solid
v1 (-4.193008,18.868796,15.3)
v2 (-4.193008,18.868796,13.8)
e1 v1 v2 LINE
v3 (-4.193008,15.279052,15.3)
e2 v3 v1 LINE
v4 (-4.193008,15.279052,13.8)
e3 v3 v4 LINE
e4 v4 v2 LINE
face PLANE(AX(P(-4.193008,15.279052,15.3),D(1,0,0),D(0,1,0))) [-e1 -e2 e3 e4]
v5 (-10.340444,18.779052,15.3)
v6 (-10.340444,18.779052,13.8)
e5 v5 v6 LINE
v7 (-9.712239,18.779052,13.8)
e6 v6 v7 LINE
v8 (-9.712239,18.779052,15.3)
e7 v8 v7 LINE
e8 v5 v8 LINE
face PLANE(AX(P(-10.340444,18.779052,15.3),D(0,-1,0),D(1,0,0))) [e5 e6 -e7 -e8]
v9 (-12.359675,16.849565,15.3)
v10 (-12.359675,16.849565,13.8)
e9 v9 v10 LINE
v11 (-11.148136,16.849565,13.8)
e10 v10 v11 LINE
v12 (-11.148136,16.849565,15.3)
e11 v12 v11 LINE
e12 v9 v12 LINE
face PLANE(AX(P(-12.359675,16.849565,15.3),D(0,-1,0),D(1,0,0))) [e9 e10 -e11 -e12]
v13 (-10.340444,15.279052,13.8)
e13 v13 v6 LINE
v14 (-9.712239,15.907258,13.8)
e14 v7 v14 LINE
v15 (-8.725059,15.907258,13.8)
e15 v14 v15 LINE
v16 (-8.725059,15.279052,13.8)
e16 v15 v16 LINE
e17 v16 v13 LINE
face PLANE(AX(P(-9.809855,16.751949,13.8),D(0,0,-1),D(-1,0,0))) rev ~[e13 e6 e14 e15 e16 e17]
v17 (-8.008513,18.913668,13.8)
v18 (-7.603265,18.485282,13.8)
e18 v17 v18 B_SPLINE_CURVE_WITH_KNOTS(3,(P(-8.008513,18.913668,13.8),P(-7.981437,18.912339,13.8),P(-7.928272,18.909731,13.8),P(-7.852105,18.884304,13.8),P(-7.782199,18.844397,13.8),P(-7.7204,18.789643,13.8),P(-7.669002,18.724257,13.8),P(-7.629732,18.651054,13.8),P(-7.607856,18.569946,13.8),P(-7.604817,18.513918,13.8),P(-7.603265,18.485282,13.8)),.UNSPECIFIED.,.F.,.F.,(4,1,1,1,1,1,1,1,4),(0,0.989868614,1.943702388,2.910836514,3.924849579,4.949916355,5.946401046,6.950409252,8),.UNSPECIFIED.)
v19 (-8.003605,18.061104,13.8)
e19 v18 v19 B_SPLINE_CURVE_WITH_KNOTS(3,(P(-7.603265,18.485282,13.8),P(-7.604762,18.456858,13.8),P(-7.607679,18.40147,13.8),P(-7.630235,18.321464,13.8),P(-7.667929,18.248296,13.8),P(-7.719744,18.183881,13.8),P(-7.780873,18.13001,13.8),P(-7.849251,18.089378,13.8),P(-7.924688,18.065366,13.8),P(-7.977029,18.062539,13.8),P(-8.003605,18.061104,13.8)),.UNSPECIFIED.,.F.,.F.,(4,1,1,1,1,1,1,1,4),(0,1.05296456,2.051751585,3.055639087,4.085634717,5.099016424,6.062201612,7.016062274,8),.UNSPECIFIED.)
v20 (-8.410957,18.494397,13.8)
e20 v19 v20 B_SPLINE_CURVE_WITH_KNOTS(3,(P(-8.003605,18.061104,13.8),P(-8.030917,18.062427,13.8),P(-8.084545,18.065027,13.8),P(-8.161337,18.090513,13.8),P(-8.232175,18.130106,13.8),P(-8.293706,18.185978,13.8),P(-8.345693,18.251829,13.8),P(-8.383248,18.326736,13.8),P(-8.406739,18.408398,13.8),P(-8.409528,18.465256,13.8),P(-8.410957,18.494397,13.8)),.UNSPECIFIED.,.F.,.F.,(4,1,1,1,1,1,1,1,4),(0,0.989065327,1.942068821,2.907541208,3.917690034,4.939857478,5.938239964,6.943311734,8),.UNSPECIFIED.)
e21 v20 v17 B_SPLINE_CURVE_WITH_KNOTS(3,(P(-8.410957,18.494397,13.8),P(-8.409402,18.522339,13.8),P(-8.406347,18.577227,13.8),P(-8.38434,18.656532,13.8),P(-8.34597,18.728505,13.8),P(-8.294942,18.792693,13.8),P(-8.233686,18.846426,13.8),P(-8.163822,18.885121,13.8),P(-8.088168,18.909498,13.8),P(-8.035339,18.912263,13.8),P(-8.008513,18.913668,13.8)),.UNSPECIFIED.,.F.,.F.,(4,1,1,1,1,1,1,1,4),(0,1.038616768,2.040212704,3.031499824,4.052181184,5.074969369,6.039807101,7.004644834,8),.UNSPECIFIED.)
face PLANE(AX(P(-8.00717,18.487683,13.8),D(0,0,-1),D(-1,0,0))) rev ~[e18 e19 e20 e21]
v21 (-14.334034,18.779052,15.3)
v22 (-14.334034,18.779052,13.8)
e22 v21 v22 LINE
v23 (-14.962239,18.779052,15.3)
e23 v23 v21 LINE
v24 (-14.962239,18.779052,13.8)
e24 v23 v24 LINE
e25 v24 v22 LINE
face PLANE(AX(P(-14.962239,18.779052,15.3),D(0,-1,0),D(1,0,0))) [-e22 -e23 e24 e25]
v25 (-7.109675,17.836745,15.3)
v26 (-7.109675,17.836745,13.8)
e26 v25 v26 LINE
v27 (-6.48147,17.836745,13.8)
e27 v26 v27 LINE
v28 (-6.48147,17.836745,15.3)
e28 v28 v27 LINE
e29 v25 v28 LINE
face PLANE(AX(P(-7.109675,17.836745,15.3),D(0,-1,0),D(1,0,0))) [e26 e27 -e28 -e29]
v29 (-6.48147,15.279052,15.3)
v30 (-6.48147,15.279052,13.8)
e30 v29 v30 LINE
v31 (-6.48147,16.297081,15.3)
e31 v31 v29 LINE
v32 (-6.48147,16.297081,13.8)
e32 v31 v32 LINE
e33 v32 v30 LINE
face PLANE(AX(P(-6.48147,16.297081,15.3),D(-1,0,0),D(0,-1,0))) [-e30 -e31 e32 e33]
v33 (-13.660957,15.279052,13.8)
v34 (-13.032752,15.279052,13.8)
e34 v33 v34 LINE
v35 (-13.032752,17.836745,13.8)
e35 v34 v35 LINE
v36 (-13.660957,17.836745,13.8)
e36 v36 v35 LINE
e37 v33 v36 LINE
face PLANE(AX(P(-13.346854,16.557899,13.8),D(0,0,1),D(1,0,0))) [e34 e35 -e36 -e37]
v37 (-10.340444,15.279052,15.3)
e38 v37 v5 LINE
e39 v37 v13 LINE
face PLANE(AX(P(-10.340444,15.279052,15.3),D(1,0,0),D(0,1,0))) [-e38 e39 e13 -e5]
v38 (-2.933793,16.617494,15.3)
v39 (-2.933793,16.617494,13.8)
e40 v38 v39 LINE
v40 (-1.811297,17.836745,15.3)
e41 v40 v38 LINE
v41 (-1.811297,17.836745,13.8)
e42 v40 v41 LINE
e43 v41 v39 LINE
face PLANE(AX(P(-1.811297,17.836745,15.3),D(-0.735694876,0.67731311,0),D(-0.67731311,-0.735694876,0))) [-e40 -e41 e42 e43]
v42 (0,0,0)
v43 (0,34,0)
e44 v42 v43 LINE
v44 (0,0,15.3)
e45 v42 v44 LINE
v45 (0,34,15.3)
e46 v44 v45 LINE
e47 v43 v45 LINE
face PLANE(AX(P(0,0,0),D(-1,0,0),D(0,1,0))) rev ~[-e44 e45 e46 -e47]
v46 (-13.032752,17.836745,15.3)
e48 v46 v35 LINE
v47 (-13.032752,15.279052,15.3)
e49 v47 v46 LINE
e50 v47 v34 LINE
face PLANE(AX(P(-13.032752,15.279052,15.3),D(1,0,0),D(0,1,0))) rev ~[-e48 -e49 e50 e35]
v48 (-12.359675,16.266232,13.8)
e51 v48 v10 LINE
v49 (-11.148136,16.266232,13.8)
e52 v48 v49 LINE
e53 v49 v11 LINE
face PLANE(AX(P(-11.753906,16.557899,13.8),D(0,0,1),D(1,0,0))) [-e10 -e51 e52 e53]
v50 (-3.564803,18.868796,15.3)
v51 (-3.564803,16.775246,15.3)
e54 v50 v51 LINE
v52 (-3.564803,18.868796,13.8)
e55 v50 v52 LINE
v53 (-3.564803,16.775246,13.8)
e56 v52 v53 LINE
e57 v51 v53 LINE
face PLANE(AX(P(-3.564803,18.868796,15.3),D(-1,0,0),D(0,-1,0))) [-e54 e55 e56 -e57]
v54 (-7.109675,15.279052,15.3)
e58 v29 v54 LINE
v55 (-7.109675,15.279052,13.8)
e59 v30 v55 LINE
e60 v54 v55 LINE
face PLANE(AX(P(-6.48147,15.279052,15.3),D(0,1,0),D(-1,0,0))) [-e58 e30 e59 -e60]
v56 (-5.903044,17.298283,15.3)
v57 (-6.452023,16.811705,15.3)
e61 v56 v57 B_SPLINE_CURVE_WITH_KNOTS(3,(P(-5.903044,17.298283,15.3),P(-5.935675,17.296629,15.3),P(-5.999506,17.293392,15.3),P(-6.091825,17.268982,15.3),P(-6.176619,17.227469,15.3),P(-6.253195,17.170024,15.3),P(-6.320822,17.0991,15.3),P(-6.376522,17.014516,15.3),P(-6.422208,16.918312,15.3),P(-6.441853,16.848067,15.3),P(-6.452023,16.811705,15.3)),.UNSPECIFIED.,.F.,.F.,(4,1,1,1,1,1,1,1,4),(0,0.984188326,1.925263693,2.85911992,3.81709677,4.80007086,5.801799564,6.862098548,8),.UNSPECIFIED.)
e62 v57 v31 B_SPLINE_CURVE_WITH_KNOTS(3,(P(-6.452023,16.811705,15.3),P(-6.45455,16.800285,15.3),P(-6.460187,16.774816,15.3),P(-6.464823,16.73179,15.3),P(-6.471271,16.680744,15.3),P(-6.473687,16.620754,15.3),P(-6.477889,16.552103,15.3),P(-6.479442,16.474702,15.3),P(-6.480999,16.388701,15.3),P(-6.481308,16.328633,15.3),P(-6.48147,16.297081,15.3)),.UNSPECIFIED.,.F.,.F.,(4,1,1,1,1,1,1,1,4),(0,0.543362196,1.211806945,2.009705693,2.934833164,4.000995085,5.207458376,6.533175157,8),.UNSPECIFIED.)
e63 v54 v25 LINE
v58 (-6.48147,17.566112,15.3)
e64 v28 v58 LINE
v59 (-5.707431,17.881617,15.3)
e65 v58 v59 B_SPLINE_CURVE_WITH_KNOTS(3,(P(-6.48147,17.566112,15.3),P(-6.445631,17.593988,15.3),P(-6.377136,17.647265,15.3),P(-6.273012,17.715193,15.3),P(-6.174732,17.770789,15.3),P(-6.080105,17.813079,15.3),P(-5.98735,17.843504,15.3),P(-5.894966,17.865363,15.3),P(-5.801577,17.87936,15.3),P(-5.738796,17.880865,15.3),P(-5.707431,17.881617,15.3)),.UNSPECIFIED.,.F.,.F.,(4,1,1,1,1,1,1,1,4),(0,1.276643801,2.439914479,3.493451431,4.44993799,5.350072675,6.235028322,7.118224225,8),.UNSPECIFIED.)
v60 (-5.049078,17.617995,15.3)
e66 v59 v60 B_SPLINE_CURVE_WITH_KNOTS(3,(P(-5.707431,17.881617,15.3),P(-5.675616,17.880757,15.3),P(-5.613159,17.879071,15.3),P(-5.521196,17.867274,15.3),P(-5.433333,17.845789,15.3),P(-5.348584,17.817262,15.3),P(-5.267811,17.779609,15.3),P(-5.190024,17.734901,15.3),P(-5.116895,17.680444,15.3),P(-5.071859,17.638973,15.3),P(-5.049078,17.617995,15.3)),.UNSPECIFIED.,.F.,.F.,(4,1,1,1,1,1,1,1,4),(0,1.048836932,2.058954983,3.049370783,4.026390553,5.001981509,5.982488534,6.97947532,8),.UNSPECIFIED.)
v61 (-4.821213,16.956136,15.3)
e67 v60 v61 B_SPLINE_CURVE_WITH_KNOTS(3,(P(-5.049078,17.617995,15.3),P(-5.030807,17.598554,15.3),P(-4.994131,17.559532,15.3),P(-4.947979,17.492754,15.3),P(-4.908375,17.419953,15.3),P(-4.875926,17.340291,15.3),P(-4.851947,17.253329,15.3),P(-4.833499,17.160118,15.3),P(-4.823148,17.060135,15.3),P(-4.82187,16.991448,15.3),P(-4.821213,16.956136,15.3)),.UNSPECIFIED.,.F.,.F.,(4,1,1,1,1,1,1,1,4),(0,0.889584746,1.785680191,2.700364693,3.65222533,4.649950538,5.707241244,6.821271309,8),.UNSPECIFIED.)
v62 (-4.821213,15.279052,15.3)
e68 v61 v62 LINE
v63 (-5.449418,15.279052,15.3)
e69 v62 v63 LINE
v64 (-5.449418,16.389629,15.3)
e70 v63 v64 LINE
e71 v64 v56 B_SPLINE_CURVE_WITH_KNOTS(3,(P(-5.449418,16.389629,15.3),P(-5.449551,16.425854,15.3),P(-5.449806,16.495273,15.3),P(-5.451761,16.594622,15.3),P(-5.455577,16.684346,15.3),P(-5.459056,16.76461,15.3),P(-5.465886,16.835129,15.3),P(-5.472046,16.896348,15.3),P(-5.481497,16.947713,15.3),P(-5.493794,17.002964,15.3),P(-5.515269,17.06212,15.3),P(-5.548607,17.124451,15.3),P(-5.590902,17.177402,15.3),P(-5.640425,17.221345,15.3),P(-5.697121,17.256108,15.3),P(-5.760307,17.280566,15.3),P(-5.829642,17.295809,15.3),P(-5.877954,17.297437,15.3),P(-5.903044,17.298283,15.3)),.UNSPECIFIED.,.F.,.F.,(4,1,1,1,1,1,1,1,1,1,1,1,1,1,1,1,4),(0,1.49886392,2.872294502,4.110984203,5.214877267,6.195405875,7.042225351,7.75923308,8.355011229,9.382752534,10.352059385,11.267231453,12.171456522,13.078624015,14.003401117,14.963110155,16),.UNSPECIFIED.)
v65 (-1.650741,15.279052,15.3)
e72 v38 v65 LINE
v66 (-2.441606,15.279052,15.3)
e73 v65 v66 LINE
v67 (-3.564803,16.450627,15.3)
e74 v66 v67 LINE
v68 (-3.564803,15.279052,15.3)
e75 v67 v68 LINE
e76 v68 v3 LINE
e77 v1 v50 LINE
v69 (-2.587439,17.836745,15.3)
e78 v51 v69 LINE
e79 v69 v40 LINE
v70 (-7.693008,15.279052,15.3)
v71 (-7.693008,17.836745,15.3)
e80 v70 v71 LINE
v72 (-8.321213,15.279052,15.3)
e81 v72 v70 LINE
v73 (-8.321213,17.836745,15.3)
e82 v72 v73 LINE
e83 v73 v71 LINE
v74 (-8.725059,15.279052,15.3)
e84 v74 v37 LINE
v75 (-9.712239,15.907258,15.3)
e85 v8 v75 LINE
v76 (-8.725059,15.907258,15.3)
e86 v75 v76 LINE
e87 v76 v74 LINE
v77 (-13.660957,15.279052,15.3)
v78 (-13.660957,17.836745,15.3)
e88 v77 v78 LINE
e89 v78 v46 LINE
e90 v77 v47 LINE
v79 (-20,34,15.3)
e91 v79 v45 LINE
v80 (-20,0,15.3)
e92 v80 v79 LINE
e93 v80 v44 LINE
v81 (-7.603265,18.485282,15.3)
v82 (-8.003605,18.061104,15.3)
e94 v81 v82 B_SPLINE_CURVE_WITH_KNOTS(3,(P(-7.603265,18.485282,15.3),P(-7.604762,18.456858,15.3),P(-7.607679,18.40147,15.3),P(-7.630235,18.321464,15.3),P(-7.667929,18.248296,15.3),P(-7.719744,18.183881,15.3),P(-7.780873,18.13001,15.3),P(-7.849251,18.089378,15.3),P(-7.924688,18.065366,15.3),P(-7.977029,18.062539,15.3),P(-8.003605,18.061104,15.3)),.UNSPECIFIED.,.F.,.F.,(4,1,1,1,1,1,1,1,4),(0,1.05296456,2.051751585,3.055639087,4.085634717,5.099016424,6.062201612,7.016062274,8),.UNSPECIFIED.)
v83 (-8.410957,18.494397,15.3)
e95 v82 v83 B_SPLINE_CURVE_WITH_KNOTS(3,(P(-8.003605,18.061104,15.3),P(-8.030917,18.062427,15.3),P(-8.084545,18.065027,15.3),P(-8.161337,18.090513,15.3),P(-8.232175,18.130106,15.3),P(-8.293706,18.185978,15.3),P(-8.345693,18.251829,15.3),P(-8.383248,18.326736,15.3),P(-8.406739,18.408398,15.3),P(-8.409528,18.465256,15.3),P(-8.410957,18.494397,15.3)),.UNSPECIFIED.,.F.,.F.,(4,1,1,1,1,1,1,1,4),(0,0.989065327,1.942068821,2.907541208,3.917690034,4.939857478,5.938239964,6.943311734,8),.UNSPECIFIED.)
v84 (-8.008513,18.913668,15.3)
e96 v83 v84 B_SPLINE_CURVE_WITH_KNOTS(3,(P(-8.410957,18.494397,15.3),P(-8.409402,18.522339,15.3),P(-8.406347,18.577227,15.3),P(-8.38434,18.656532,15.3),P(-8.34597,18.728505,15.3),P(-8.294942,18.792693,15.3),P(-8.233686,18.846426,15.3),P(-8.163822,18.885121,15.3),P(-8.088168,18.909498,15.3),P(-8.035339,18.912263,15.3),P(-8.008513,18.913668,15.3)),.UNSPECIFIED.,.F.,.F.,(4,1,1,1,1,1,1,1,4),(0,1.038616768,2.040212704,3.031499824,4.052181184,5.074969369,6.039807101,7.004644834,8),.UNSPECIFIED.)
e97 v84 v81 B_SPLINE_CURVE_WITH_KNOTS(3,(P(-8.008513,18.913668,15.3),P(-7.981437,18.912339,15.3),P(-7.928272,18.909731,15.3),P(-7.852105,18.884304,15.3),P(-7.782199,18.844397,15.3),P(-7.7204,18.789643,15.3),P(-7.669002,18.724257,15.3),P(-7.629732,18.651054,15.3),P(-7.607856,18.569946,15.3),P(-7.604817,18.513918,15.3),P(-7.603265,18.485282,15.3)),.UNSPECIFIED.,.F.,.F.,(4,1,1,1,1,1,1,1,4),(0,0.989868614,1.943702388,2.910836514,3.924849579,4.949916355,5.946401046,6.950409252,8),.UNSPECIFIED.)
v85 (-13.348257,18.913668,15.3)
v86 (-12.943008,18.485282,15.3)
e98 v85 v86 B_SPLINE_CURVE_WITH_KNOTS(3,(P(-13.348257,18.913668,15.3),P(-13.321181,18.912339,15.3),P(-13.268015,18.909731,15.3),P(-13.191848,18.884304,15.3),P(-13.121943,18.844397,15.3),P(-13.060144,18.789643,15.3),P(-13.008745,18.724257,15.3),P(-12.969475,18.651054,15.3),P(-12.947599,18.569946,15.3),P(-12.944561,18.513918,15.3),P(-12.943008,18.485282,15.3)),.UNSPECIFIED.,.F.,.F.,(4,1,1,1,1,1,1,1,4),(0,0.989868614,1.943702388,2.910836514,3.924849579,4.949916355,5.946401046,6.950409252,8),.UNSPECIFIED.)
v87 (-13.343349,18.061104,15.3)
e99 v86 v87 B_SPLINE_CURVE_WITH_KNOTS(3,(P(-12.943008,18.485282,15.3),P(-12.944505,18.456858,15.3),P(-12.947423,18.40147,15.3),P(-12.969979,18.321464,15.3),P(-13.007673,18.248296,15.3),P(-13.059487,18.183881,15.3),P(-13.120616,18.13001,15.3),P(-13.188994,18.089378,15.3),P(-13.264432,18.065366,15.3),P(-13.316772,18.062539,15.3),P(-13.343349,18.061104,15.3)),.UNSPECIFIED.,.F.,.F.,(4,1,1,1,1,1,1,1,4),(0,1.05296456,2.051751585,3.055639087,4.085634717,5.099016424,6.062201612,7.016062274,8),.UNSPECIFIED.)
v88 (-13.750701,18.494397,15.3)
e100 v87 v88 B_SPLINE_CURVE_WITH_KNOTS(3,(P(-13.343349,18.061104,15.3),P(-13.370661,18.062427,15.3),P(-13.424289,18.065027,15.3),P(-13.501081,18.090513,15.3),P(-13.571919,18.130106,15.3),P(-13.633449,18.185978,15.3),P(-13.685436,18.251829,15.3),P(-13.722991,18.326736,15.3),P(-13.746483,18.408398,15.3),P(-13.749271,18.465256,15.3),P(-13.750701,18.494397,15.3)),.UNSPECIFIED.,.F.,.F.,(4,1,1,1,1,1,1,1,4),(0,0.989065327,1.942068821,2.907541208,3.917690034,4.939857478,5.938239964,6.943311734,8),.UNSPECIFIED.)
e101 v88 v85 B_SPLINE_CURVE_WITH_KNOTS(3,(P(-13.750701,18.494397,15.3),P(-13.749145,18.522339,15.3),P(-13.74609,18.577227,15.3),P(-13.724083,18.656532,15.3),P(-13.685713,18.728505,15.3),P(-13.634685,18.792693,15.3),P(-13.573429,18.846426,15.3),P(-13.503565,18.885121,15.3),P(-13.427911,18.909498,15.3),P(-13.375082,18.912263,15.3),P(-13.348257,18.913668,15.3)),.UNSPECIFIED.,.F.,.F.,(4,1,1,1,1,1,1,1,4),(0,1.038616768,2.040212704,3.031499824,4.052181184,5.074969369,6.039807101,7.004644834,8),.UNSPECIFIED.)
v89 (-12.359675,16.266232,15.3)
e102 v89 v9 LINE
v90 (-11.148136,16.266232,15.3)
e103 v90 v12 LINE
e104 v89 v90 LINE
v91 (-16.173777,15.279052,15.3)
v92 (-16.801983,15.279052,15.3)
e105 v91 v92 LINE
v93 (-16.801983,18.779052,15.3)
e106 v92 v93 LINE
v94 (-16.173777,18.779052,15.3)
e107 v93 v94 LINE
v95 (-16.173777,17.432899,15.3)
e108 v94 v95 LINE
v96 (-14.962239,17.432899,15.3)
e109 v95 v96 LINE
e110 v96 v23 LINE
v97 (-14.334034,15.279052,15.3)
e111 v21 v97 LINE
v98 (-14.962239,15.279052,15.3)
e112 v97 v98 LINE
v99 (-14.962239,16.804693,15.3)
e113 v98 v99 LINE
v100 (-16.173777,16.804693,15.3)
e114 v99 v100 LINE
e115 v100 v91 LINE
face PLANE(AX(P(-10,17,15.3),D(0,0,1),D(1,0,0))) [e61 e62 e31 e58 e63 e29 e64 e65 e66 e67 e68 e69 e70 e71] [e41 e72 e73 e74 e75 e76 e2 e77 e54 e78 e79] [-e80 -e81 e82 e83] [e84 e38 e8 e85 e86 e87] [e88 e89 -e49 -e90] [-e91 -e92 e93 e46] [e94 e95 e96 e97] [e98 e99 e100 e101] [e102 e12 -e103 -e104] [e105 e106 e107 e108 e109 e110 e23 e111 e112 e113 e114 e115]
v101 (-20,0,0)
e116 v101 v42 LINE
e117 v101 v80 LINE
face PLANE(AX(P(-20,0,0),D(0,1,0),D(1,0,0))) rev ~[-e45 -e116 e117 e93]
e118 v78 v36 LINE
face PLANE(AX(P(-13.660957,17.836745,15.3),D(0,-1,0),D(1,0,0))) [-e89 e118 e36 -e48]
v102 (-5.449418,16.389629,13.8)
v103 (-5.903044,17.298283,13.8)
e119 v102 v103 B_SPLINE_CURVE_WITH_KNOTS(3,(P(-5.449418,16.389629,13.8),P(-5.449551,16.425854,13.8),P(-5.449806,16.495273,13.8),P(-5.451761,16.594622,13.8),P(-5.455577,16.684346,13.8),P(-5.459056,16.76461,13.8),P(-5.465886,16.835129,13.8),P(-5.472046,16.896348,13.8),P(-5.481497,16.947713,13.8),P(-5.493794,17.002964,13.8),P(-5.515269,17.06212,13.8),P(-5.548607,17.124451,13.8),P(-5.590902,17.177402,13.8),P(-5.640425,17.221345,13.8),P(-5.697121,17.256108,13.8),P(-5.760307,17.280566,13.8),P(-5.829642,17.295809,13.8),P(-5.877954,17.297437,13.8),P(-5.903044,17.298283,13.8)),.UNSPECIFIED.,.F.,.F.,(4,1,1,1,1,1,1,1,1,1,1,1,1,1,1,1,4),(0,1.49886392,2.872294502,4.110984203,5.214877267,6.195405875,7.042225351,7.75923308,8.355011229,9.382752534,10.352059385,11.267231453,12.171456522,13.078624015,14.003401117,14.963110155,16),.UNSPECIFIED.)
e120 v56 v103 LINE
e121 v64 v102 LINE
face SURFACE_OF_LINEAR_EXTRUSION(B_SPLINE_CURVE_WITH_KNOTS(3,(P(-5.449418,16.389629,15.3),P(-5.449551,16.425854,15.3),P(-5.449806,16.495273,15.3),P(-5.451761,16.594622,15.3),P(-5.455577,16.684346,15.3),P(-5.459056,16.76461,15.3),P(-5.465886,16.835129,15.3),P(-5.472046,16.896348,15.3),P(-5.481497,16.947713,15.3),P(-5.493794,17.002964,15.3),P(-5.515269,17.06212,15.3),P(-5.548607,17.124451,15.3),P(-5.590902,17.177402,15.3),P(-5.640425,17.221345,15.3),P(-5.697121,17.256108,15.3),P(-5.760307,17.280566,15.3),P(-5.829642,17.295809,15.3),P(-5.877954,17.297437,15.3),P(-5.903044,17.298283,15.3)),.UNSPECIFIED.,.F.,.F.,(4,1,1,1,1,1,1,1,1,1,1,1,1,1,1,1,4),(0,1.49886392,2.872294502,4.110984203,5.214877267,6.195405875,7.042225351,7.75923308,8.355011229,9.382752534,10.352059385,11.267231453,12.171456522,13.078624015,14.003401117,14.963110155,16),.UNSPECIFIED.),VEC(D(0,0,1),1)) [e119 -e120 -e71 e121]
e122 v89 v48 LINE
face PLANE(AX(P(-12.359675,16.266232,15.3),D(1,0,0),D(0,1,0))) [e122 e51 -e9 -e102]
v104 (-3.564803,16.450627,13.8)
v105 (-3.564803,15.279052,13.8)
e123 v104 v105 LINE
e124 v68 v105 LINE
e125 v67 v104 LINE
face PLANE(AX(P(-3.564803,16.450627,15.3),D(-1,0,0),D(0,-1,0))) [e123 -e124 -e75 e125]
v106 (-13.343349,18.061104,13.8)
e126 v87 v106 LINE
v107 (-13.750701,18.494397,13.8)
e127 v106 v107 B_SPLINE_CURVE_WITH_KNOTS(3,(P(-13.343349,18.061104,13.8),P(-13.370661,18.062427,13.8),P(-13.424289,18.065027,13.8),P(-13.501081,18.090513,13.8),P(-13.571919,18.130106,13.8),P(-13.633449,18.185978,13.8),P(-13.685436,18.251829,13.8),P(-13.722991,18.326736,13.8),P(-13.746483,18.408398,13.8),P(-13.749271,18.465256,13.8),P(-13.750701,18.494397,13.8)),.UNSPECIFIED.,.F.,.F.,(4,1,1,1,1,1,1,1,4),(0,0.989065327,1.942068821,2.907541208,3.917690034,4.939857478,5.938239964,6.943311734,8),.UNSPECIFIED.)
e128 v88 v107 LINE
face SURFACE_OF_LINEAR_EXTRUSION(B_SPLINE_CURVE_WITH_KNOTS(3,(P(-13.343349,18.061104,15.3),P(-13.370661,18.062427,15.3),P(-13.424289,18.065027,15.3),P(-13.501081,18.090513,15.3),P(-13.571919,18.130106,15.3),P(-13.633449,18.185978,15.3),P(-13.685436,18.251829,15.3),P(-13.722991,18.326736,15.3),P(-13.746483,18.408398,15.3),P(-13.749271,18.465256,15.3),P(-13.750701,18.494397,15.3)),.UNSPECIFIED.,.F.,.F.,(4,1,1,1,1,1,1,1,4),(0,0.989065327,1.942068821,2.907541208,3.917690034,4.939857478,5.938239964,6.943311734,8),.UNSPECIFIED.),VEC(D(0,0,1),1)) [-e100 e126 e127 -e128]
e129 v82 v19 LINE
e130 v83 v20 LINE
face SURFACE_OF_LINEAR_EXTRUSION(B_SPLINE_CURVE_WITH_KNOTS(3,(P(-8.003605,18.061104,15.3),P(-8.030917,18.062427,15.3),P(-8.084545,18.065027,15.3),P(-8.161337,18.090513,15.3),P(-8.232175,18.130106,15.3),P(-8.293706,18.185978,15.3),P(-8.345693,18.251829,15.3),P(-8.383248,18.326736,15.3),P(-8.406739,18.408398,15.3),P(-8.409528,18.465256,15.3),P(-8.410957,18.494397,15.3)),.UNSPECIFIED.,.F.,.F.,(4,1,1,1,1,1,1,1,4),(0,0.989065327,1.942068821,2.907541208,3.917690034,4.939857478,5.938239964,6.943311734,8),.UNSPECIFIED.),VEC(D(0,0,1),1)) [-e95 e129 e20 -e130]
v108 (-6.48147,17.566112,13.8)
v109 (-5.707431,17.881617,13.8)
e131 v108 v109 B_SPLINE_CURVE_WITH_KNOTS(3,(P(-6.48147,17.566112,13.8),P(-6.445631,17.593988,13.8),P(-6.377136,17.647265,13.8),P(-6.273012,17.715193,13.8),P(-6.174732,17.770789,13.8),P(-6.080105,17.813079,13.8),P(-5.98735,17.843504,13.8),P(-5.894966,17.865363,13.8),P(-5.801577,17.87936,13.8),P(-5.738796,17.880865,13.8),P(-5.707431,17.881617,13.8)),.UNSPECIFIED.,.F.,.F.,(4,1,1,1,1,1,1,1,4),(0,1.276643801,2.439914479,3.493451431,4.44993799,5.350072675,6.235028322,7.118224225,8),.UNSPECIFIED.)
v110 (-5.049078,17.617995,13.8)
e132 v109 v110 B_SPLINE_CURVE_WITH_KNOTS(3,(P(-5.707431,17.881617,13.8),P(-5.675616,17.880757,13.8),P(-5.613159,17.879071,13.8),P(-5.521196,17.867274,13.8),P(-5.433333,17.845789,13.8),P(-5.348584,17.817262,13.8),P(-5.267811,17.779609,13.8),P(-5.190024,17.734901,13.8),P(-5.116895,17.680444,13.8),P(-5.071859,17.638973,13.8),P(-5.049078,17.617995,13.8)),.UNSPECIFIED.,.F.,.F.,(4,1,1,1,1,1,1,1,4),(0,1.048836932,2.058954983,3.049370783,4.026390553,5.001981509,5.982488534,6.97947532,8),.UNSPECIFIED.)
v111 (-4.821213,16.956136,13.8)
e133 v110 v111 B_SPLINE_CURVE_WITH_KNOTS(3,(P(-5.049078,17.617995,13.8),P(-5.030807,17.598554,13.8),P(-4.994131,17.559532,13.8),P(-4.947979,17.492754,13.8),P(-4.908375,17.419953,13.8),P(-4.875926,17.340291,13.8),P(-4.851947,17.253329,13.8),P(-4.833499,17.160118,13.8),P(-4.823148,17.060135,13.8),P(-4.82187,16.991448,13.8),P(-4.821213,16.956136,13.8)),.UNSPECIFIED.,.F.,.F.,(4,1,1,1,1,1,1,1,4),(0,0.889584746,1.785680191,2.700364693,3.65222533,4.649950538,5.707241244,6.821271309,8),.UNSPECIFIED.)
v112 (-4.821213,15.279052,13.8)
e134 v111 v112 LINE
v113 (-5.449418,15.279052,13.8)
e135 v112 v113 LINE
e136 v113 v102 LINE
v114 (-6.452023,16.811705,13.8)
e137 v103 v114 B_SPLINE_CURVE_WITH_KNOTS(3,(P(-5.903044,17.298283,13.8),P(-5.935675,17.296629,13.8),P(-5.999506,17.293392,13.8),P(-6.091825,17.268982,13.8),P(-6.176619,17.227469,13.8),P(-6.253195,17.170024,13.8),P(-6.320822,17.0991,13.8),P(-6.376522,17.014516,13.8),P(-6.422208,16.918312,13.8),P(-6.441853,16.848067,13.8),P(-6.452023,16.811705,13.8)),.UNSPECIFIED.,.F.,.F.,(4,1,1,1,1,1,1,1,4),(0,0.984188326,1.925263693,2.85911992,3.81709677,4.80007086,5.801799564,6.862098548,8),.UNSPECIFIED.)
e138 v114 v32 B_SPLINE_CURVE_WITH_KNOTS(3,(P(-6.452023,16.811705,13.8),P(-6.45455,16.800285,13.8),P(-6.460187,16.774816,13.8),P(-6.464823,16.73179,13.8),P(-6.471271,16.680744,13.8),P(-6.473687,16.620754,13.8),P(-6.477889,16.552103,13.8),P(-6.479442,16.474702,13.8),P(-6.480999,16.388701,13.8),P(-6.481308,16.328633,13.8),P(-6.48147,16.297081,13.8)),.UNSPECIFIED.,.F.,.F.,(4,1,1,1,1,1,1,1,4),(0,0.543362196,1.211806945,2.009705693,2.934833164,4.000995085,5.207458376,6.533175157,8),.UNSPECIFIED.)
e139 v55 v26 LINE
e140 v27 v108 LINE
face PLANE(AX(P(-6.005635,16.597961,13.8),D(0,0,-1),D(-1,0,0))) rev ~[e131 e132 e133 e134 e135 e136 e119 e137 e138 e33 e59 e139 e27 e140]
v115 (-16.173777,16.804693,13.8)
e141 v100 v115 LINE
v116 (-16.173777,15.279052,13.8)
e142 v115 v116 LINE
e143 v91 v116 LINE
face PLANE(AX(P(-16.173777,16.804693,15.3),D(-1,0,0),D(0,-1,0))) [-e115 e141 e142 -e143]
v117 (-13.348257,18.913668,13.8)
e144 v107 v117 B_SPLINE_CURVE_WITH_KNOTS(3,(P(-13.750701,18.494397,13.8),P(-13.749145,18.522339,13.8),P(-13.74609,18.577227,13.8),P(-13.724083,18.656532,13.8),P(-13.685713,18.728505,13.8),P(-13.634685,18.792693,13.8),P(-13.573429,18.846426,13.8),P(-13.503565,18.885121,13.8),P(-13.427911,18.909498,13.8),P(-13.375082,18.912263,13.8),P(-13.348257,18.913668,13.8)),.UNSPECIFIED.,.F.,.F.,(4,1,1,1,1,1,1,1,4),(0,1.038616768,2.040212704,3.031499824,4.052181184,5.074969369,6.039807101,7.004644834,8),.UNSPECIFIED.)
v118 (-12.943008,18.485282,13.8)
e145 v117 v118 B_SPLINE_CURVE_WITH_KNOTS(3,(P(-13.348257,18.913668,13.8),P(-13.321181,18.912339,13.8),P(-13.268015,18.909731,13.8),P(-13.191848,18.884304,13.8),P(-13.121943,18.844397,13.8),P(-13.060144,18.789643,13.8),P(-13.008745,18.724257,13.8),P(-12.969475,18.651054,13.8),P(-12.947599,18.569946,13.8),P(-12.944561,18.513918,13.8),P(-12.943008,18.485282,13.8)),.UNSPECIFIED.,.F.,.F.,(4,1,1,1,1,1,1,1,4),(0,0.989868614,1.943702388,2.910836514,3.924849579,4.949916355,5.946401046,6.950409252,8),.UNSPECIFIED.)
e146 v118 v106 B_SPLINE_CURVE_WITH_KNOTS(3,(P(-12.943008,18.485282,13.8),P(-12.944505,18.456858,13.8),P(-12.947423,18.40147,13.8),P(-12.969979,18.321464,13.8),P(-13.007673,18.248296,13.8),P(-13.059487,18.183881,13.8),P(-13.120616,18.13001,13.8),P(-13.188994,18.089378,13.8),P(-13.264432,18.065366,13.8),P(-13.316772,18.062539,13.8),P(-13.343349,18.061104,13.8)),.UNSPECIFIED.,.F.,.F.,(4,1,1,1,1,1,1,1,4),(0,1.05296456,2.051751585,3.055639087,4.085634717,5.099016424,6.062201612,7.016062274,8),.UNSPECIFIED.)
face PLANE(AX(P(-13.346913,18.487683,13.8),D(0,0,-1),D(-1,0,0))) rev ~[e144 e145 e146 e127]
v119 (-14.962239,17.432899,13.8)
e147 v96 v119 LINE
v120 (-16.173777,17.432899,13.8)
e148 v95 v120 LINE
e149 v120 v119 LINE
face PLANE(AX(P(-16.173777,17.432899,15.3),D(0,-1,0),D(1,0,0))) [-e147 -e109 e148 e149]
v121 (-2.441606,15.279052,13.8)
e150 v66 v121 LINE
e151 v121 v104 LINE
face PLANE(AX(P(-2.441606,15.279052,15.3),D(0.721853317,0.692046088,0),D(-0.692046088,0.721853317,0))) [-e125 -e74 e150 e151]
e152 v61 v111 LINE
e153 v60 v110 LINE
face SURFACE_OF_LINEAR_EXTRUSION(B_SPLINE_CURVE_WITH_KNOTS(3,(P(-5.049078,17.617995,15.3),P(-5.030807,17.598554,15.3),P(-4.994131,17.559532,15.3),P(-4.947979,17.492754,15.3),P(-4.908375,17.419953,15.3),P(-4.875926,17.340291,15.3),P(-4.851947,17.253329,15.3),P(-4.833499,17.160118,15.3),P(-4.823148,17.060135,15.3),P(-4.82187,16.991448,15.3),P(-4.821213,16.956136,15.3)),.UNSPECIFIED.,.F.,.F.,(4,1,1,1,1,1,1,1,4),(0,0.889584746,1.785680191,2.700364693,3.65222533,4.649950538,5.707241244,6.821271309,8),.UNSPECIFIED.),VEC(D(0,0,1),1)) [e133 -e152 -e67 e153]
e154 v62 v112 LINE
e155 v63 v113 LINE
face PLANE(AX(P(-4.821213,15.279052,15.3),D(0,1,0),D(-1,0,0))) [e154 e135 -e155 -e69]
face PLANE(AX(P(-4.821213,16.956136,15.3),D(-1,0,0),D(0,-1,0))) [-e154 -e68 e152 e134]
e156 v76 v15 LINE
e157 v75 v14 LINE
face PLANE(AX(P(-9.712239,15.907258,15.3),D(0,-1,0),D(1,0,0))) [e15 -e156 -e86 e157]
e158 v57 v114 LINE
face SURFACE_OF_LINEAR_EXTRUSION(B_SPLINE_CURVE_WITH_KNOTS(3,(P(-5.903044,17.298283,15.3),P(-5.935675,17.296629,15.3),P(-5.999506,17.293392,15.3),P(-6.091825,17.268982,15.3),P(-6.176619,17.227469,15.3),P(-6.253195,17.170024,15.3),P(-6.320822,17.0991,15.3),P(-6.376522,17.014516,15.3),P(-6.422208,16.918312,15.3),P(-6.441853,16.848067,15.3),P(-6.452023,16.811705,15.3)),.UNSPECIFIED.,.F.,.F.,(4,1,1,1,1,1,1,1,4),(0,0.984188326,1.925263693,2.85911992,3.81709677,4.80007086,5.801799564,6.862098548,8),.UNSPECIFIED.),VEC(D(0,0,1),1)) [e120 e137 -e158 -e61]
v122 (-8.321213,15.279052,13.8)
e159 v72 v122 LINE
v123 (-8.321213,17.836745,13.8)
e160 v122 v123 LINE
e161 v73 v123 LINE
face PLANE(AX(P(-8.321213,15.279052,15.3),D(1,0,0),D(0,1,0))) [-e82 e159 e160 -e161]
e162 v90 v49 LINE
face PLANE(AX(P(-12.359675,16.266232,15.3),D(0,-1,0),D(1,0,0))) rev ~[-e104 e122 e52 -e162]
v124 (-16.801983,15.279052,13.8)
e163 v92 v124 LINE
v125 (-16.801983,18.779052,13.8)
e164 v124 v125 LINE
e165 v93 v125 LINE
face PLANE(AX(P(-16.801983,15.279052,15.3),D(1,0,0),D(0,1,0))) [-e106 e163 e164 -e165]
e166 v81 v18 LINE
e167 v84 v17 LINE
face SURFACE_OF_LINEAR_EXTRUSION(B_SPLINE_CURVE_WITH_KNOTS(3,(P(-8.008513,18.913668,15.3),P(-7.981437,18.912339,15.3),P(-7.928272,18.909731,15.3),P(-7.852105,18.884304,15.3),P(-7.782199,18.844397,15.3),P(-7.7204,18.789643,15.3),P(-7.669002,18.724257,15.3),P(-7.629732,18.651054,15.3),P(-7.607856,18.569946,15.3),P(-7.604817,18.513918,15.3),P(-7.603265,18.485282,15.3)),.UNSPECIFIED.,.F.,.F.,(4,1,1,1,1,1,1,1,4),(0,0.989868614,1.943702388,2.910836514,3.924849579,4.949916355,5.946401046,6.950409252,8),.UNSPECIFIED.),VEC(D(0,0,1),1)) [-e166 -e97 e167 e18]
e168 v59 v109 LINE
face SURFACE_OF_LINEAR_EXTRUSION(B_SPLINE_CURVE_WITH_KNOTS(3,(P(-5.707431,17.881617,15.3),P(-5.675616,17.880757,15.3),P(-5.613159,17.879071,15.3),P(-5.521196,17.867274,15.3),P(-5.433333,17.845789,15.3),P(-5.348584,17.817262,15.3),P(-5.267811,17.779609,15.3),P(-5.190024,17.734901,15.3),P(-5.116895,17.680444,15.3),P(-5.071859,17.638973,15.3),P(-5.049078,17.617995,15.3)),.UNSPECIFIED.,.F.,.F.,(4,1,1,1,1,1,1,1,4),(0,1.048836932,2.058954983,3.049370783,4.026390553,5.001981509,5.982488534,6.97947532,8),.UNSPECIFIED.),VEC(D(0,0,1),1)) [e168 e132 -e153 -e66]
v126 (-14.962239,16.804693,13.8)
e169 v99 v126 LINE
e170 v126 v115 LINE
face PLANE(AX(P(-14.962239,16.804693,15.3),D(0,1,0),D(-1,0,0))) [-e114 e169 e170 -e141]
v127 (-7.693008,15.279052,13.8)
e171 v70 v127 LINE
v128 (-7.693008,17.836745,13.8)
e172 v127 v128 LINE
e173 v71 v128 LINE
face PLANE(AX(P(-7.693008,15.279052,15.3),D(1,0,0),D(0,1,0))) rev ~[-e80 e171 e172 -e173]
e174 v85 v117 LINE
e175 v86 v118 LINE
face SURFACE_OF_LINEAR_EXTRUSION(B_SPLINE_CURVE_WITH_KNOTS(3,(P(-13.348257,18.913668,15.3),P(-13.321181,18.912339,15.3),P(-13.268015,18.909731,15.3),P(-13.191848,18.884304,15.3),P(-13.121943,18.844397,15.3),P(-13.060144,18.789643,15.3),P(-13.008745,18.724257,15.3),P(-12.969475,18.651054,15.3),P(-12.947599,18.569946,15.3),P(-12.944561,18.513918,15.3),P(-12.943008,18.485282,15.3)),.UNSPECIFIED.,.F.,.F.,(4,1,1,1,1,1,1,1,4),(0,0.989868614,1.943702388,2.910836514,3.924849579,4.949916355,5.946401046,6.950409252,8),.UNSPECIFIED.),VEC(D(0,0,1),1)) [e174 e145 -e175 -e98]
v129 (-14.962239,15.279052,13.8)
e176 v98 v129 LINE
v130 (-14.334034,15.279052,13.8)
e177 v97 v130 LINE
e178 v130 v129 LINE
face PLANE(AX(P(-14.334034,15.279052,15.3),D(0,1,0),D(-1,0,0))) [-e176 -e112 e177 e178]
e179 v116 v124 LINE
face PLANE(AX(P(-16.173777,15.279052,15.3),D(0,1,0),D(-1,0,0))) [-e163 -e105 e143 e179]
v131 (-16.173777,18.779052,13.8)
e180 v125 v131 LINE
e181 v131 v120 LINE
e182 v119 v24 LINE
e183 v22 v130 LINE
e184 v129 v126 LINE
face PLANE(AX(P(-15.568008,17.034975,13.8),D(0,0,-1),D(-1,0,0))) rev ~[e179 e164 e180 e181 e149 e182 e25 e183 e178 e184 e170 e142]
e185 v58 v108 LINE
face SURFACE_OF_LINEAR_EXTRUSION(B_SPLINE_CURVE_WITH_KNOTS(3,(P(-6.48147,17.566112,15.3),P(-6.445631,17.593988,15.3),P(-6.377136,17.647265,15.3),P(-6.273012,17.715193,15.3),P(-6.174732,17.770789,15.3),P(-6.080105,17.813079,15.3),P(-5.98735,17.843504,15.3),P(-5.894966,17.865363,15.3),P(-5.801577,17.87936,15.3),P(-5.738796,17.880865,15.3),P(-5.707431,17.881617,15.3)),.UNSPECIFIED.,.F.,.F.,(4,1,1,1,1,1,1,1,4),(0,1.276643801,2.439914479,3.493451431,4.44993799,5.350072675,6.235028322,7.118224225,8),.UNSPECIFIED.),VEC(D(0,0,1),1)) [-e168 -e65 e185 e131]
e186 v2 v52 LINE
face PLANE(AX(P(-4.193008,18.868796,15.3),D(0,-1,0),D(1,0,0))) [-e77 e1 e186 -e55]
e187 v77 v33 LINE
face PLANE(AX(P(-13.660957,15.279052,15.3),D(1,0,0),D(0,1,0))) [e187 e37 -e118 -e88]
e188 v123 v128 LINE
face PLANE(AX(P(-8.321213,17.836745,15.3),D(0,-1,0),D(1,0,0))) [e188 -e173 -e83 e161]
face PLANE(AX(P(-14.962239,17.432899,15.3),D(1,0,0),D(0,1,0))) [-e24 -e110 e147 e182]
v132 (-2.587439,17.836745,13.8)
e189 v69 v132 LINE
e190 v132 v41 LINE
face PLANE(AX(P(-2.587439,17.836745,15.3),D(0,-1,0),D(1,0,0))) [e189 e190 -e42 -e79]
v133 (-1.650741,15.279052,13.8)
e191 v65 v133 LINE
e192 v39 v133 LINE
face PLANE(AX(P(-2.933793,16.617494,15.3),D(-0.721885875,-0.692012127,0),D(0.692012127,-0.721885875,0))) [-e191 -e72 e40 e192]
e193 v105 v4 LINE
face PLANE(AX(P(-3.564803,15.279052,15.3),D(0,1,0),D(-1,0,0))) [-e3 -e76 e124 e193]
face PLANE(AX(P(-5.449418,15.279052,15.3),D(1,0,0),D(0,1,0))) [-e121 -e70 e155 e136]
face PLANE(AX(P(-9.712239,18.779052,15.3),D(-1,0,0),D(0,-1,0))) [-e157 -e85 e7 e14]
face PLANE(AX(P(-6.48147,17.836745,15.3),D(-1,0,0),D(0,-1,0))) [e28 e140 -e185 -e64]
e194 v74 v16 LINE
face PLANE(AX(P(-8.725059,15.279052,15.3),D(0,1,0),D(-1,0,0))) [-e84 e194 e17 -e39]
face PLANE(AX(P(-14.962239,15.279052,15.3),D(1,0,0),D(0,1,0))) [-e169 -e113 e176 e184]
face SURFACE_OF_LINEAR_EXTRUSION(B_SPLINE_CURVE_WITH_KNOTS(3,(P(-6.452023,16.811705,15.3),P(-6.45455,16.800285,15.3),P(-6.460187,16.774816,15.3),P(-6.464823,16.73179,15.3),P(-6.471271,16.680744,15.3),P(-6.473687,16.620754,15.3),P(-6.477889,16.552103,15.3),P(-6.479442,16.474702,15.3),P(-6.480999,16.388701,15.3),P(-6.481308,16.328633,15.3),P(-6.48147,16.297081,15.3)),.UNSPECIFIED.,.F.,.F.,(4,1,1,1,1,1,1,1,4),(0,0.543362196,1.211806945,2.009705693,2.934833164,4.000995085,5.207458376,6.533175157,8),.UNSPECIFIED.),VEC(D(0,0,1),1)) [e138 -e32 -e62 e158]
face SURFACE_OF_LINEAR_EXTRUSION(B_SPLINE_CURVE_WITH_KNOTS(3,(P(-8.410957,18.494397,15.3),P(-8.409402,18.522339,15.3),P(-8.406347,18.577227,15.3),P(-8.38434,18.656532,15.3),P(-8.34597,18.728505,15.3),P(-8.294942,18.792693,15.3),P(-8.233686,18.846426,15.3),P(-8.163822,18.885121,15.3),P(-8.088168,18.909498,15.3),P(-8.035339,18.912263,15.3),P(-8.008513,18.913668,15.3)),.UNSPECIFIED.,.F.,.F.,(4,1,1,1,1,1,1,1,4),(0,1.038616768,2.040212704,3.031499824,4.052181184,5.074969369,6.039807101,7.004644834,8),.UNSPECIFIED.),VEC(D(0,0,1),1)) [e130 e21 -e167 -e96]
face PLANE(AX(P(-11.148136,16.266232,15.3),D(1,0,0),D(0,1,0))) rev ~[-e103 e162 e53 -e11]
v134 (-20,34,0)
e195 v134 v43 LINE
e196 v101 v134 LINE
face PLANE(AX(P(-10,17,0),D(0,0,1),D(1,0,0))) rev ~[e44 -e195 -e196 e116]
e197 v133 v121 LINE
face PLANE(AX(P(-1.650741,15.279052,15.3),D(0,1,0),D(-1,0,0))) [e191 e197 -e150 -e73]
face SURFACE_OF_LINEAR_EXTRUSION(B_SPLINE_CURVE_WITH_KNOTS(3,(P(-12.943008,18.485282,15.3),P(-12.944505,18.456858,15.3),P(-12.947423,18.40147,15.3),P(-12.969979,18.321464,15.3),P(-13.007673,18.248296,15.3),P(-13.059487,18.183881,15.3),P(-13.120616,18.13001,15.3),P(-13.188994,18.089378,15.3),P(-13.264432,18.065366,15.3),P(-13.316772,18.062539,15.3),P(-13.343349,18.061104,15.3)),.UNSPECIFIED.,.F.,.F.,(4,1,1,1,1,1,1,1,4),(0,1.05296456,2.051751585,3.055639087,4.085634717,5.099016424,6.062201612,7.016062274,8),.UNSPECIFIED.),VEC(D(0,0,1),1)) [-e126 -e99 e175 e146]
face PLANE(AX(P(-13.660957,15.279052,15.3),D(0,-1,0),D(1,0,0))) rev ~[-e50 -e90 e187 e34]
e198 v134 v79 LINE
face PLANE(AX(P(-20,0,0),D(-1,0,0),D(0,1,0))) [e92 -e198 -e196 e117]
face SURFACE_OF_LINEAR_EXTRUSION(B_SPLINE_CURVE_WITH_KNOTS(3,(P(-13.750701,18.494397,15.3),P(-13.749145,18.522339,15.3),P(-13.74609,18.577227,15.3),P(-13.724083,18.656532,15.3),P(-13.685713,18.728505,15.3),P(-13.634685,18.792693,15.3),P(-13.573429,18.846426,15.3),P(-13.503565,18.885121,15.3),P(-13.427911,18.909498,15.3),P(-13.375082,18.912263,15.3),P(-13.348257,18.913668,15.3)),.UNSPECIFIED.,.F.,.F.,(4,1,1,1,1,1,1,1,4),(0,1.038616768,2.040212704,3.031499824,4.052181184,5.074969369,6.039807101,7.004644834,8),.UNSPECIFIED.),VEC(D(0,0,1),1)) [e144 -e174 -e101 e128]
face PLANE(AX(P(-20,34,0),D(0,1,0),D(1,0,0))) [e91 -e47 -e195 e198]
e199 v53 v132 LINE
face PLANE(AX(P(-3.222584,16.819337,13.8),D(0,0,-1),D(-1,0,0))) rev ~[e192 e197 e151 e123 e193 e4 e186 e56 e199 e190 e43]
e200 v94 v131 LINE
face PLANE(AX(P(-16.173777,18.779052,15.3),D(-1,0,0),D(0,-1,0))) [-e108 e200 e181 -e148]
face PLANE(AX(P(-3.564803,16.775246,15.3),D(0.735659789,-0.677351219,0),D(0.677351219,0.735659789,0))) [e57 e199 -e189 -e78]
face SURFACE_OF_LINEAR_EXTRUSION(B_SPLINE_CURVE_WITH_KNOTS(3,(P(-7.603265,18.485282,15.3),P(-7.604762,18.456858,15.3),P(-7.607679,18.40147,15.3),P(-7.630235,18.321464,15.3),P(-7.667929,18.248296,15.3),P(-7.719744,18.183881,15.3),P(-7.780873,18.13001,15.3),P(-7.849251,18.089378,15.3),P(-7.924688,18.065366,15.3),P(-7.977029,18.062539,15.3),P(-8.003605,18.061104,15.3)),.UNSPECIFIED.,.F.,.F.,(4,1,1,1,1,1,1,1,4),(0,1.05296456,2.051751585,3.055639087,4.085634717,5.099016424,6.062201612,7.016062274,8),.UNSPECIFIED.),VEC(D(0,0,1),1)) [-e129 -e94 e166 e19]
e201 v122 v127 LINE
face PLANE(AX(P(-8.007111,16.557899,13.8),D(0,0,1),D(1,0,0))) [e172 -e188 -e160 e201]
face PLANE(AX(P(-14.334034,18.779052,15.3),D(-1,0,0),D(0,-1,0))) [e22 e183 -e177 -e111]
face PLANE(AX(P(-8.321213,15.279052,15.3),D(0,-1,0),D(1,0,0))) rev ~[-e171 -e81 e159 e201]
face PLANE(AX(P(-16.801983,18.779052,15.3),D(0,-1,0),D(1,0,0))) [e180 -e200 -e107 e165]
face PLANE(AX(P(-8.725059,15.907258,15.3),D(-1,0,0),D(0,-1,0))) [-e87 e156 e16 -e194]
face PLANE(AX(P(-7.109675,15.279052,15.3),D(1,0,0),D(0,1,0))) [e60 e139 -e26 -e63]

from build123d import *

# Parameters (mm, degrees)
ESBO_O1_W                = 20
ESBO_O1_H                = 34
RESSALTO_EXTRUS_O1_DEPTH = 15.3
ESBO_O2_W                = 0.628205129
ESBO_O2_H                = 2.557692308
ESBO_O2_W_2              = 1.211538461
ESBO_O2_H_2              = 0.583333334
ESBO_O2_W_3              = 0.628205128
CORTE_EXTRUS_O1_DEPTH    = 1.5


with BuildPart() as part:
    # Esboço1 → Ressalto-extrusão1 (new body)
    with BuildSketch(Plane.XY):
        with Locations((-10, 17)):
            Rectangle(ESBO_O1_W, ESBO_O1_H)
    extrude(amount=RESSALTO_EXTRUS_O1_DEPTH)

    # Esboço2 → Corte-extrusão1 (cut)
    with BuildSketch(Plane.XY.offset(15.3)):
        Polygon((-16.80198257, 18.779052447), (-16.173777441, 18.779052447), (-16.173777441, 17.432898601), (-14.96223898, 17.432898601), (-14.96223898, 18.779052447), (-14.334033852, 18.779052447), (-14.334033852, 15.279052447), (-14.96223898, 15.279052447), (-14.96223898, 16.804693473), (-16.173777441, 16.804693473), (-16.173777441, 15.279052447), (-16.80198257, 15.279052447), align=None)
        with BuildLine():
            add(Edge.make_bspline(
                [(-13.348256608, 18.913667832), (-13.321180971, 18.912339399), (-13.26801535, 18.909730892), (-13.191848363, 18.884303755), (-13.121942506, 18.844396624), (-13.060143789, 18.789643089), (-13.008745395, 18.724257353), (-12.969475113, 18.651053675), (-12.947599275, 18.569946357), (-12.944561045, 18.51391827), (-12.943008211, 18.485282415)],
                knots=[0, 0, 0, 0, 0.989868614, 1.943702388, 2.910836514, 3.924849579, 4.949916355, 5.946401046, 6.950409252, 8, 8, 8, 8], degree=3))
            add(Edge.make_bspline(
                [(-12.943008211, 18.485282415), (-12.944505487, 18.456857591), (-12.947423001, 18.401470467), (-12.969978599, 18.321464218), (-13.007672708, 18.248296095), (-13.059487397, 18.183881459), (-13.120616135, 18.130009762), (-13.188994496, 18.089378141), (-13.264431582, 18.06536551), (-13.316772234, 18.062538947), (-13.343348756, 18.061103729)],
                knots=[0, 0, 0, 0, 1.05296456, 2.051751585, 3.055639087, 4.085634717, 5.099016424, 6.062201612, 7.016062274, 8, 8, 8, 8], degree=3))
            add(Edge.make_bspline(
                [(-13.343348756, 18.061103729), (-13.37066074, 18.062427414), (-13.4242889, 18.06502652), (-13.501080613, 18.09051315), (-13.571918836, 18.130105987), (-13.63344947, 18.185978222), (-13.685436491, 18.251828573), (-13.722991431, 18.326736496), (-13.746482976, 18.408398424), (-13.749271401, 18.465256325), (-13.750700518, 18.494396998)],
                knots=[0, 0, 0, 0, 0.989065327, 1.942068821, 2.907541208, 3.917690034, 4.939857478, 5.938239964, 6.943311734, 8, 8, 8, 8], degree=3))
            add(Edge.make_bspline(
                [(-13.750700518, 18.494396998), (-13.749145248, 18.522339152), (-13.746090144, 18.57722748), (-13.724083268, 18.656531545), (-13.685713452, 18.728504555), (-13.634685286, 18.792693343), (-13.57342937, 18.846425519), (-13.503565478, 18.885120645), (-13.427911097, 18.909497568), (-13.375082261, 18.912263391), (-13.348256608, 18.913667832)],
                knots=[0, 0, 0, 0, 1.038616768, 2.040212704, 3.031499824, 4.052181184, 5.074969369, 6.039807101, 7.004644834, 8, 8, 8, 8], degree=3))
        make_face()
        with Locations((-13.346854365, 16.557898601)):
            Rectangle(ESBO_O2_W, ESBO_O2_H)
        with Locations((-11.753905647, 16.557898601)):
            Rectangle(ESBO_O2_W_2, ESBO_O2_H_2)
        Polygon((-10.340444108, 18.779052447), (-9.71223898, 18.779052447), (-9.71223898, 15.907257575), (-8.725059493, 15.907257575), (-8.725059493, 15.279052447), (-10.340444108, 15.279052447), align=None)
        with BuildLine():
            add(Edge.make_bspline(
                [(-8.008513018, 18.913667832), (-7.981437382, 18.912339399), (-7.928271761, 18.909730892), (-7.852104774, 18.884303755), (-7.782198916, 18.844396624), (-7.720400199, 18.789643089), (-7.669001805, 18.724257353), (-7.629731523, 18.651053675), (-7.607855685, 18.569946357), (-7.604817455, 18.51391827), (-7.603264621, 18.485282415)],
                knots=[0, 0, 0, 0, 0.989868614, 1.943702388, 2.910836514, 3.924849579, 4.949916355, 5.946401046, 6.950409252, 8, 8, 8, 8], degree=3))
            add(Edge.make_bspline(
                [(-7.603264621, 18.485282415), (-7.604761897, 18.456857591), (-7.607679411, 18.401470467), (-7.630235009, 18.321464218), (-7.667929118, 18.248296095), (-7.719743807, 18.183881459), (-7.780872545, 18.130009762), (-7.849250906, 18.089378141), (-7.924687993, 18.06536551), (-7.977028644, 18.062538947), (-8.003605166, 18.061103729)],
                knots=[0, 0, 0, 0, 1.05296456, 2.051751585, 3.055639087, 4.085634717, 5.099016424, 6.062201612, 7.016062274, 8, 8, 8, 8], degree=3))
            add(Edge.make_bspline(
                [(-8.003605166, 18.061103729), (-8.03091715, 18.062427414), (-8.08454531, 18.06502652), (-8.161337023, 18.09051315), (-8.232175246, 18.130105987), (-8.293705881, 18.185978222), (-8.345692901, 18.251828573), (-8.383247842, 18.326736496), (-8.406739386, 18.408398424), (-8.409527811, 18.465256325), (-8.410956929, 18.494396998)],
                knots=[0, 0, 0, 0, 0.989065327, 1.942068821, 2.907541208, 3.917690034, 4.939857478, 5.938239964, 6.943311734, 8, 8, 8, 8], degree=3))
            add(Edge.make_bspline(
                [(-8.410956929, 18.494396998), (-8.409401658, 18.522339152), (-8.406346555, 18.57722748), (-8.384339678, 18.656531545), (-8.345969862, 18.728504555), (-8.294941696, 18.792693343), (-8.23368578, 18.846425519), (-8.163821888, 18.885120645), (-8.088167507, 18.909497568), (-8.035338671, 18.912263391), (-8.008513018, 18.913667832)],
                knots=[0, 0, 0, 0, 1.038616768, 2.040212704, 3.031499824, 4.052181184, 5.074969369, 6.039807101, 7.004644834, 8, 8, 8, 8], degree=3))
        make_face()
        with Locations((-8.007110775, 16.557898601)):
            Rectangle(ESBO_O2_W_3, ESBO_O2_H)
        with BuildLine():
            Line((-7.109674877, 17.836744755), (-6.481469749, 17.836744755))
            Line((-6.481469749, 17.836744755), (-6.481469749, 17.566111742))
            add(Edge.make_bspline(
                [(-6.481469749, 17.566111742), (-6.445630958, 17.593987892), (-6.377136061, 17.647264633), (-6.273011992, 17.71519275), (-6.174731762, 17.770789186), (-6.0801046, 17.81307868), (-5.987350094, 17.843504153), (-5.894966016, 17.86536304), (-5.801576583, 17.879359886), (-5.738796215, 17.880864732), (-5.707431288, 17.88161655)],
                knots=[0, 0, 0, 0, 1.276643801, 2.439914479, 3.493451431, 4.44993799, 5.350072675, 6.235028322, 7.118224225, 8, 8, 8, 8], degree=3))
            add(Edge.make_bspline(
                [(-5.707431288, 17.88161655), (-5.67561579, 17.880757378), (-5.613159296, 17.879070751), (-5.52119555, 17.867274166), (-5.433333122, 17.845788847), (-5.348584071, 17.817262154), (-5.267810997, 17.779608556), (-5.190024382, 17.734901017), (-5.116895054, 17.68044421), (-5.071858776, 17.638972521), (-5.049077922, 17.617994755)],
                knots=[0, 0, 0, 0, 1.048836932, 2.058954983, 3.049370783, 4.026390553, 5.001981509, 5.982488534, 6.97947532, 8, 8, 8, 8], degree=3))
            add(Edge.make_bspline(
                [(-5.049077922, 17.617994755), (-5.030806839, 17.5985545), (-4.99413095, 17.559531712), (-4.947978953, 17.492753726), (-4.908375347, 17.419953499), (-4.875925695, 17.340291256), (-4.85194671, 17.253329305), (-4.83349935, 17.160118021), (-4.823148214, 17.060135491), (-4.821870317, 16.991448437), (-4.821213339, 16.956135781)],
                knots=[0, 0, 0, 0, 0.889584746, 1.785680191, 2.700364693, 3.65222533, 4.649950538, 5.707241244, 6.821271309, 8, 8, 8, 8], degree=3))
            Line((-4.821213339, 16.956135781), (-4.821213339, 15.279052447))
            Line((-4.821213339, 15.279052447), (-5.449418467, 15.279052447))
            Line((-5.449418467, 15.279052447), (-5.449418467, 16.38962937))
            add(Edge.make_bspline(
                [(-5.449418467, 16.38962937), (-5.449551319, 16.425854455), (-5.449805904, 16.495273106), (-5.451760555, 16.594621628), (-5.455577174, 16.684346245), (-5.459055922, 16.764610319), (-5.465886088, 16.83512886), (-5.472045642, 16.896348304), (-5.48149688, 16.947713262), (-5.493794475, 17.002963982), (-5.515269103, 17.062119982), (-5.548607417, 17.1244506), (-5.590901743, 17.17740185), (-5.640424613, 17.221344946), (-5.697121331, 17.256107965), (-5.760306801, 17.280565915), (-5.829642274, 17.295808709), (-5.877954417, 17.297437394), (-5.903044268, 17.298283216)],
                knots=[0, 0, 0, 0, 1.49886392, 2.872294502, 4.110984203, 5.214877267, 6.195405875, 7.042225351, 7.75923308, 8.355011229, 9.382752534, 10.352059385, 11.267231453, 12.171456522, 13.078624015, 14.003401117, 14.963110155, 16, 16, 16, 16], degree=3))
            add(Edge.make_bspline(
                [(-5.903044268, 17.298283216), (-5.935674676, 17.29662852), (-5.999506096, 17.293391611), (-6.091825477, 17.268982369), (-6.176619289, 17.227469432), (-6.253194699, 17.170023876), (-6.320822389, 17.099100218), (-6.376522348, 17.01451562), (-6.422207758, 16.918311526), (-6.441853163, 16.848066911), (-6.452022634, 16.811704691)],
                knots=[0, 0, 0, 0, 0.984188326, 1.925263693, 2.85911992, 3.81709677, 4.80007086, 5.801799564, 6.862098548, 8, 8, 8, 8], degree=3))
            add(Edge.make_bspline(
                [(-6.452022634, 16.811704691), (-6.454550151, 16.800284892), (-6.460187023, 16.774816444), (-6.464822638, 16.731790285), (-6.471271114, 16.680743913), (-6.473687199, 16.620753533), (-6.477888506, 16.552103054), (-6.47944235, 16.474701653), (-6.480998974, 16.388701101), (-6.481307625, 16.328632983), (-6.481469749, 16.297081293)],
                knots=[0, 0, 0, 0, 0.543362196, 1.211806945, 2.009705693, 2.934833164, 4.000995085, 5.207458376, 6.533175157, 8, 8, 8, 8], degree=3))
            Line((-6.481469749, 16.297081293), (-6.481469749, 15.279052447))
            Line((-6.481469749, 15.279052447), (-7.109674877, 15.279052447))
            Line((-7.109674877, 15.279052447), (-7.109674877, 17.836744755))
        make_face()
        Polygon((-4.193008211, 18.868796037), (-3.564803082, 18.868796037), (-3.564803082, 16.775246357), (-2.5874393, 17.836744755), (-1.811297473, 17.836744755), (-2.933793467, 16.617493954), (-1.650740582, 15.279052447), (-2.441605967, 15.279052447), (-3.564803082, 16.450626966), (-3.564803082, 15.279052447), (-4.193008211, 15.279052447), align=None)
    extrude(amount=-CORTE_EXTRUS_O1_DEPTH, mode=Mode.SUBTRACT)


solid = part.part
